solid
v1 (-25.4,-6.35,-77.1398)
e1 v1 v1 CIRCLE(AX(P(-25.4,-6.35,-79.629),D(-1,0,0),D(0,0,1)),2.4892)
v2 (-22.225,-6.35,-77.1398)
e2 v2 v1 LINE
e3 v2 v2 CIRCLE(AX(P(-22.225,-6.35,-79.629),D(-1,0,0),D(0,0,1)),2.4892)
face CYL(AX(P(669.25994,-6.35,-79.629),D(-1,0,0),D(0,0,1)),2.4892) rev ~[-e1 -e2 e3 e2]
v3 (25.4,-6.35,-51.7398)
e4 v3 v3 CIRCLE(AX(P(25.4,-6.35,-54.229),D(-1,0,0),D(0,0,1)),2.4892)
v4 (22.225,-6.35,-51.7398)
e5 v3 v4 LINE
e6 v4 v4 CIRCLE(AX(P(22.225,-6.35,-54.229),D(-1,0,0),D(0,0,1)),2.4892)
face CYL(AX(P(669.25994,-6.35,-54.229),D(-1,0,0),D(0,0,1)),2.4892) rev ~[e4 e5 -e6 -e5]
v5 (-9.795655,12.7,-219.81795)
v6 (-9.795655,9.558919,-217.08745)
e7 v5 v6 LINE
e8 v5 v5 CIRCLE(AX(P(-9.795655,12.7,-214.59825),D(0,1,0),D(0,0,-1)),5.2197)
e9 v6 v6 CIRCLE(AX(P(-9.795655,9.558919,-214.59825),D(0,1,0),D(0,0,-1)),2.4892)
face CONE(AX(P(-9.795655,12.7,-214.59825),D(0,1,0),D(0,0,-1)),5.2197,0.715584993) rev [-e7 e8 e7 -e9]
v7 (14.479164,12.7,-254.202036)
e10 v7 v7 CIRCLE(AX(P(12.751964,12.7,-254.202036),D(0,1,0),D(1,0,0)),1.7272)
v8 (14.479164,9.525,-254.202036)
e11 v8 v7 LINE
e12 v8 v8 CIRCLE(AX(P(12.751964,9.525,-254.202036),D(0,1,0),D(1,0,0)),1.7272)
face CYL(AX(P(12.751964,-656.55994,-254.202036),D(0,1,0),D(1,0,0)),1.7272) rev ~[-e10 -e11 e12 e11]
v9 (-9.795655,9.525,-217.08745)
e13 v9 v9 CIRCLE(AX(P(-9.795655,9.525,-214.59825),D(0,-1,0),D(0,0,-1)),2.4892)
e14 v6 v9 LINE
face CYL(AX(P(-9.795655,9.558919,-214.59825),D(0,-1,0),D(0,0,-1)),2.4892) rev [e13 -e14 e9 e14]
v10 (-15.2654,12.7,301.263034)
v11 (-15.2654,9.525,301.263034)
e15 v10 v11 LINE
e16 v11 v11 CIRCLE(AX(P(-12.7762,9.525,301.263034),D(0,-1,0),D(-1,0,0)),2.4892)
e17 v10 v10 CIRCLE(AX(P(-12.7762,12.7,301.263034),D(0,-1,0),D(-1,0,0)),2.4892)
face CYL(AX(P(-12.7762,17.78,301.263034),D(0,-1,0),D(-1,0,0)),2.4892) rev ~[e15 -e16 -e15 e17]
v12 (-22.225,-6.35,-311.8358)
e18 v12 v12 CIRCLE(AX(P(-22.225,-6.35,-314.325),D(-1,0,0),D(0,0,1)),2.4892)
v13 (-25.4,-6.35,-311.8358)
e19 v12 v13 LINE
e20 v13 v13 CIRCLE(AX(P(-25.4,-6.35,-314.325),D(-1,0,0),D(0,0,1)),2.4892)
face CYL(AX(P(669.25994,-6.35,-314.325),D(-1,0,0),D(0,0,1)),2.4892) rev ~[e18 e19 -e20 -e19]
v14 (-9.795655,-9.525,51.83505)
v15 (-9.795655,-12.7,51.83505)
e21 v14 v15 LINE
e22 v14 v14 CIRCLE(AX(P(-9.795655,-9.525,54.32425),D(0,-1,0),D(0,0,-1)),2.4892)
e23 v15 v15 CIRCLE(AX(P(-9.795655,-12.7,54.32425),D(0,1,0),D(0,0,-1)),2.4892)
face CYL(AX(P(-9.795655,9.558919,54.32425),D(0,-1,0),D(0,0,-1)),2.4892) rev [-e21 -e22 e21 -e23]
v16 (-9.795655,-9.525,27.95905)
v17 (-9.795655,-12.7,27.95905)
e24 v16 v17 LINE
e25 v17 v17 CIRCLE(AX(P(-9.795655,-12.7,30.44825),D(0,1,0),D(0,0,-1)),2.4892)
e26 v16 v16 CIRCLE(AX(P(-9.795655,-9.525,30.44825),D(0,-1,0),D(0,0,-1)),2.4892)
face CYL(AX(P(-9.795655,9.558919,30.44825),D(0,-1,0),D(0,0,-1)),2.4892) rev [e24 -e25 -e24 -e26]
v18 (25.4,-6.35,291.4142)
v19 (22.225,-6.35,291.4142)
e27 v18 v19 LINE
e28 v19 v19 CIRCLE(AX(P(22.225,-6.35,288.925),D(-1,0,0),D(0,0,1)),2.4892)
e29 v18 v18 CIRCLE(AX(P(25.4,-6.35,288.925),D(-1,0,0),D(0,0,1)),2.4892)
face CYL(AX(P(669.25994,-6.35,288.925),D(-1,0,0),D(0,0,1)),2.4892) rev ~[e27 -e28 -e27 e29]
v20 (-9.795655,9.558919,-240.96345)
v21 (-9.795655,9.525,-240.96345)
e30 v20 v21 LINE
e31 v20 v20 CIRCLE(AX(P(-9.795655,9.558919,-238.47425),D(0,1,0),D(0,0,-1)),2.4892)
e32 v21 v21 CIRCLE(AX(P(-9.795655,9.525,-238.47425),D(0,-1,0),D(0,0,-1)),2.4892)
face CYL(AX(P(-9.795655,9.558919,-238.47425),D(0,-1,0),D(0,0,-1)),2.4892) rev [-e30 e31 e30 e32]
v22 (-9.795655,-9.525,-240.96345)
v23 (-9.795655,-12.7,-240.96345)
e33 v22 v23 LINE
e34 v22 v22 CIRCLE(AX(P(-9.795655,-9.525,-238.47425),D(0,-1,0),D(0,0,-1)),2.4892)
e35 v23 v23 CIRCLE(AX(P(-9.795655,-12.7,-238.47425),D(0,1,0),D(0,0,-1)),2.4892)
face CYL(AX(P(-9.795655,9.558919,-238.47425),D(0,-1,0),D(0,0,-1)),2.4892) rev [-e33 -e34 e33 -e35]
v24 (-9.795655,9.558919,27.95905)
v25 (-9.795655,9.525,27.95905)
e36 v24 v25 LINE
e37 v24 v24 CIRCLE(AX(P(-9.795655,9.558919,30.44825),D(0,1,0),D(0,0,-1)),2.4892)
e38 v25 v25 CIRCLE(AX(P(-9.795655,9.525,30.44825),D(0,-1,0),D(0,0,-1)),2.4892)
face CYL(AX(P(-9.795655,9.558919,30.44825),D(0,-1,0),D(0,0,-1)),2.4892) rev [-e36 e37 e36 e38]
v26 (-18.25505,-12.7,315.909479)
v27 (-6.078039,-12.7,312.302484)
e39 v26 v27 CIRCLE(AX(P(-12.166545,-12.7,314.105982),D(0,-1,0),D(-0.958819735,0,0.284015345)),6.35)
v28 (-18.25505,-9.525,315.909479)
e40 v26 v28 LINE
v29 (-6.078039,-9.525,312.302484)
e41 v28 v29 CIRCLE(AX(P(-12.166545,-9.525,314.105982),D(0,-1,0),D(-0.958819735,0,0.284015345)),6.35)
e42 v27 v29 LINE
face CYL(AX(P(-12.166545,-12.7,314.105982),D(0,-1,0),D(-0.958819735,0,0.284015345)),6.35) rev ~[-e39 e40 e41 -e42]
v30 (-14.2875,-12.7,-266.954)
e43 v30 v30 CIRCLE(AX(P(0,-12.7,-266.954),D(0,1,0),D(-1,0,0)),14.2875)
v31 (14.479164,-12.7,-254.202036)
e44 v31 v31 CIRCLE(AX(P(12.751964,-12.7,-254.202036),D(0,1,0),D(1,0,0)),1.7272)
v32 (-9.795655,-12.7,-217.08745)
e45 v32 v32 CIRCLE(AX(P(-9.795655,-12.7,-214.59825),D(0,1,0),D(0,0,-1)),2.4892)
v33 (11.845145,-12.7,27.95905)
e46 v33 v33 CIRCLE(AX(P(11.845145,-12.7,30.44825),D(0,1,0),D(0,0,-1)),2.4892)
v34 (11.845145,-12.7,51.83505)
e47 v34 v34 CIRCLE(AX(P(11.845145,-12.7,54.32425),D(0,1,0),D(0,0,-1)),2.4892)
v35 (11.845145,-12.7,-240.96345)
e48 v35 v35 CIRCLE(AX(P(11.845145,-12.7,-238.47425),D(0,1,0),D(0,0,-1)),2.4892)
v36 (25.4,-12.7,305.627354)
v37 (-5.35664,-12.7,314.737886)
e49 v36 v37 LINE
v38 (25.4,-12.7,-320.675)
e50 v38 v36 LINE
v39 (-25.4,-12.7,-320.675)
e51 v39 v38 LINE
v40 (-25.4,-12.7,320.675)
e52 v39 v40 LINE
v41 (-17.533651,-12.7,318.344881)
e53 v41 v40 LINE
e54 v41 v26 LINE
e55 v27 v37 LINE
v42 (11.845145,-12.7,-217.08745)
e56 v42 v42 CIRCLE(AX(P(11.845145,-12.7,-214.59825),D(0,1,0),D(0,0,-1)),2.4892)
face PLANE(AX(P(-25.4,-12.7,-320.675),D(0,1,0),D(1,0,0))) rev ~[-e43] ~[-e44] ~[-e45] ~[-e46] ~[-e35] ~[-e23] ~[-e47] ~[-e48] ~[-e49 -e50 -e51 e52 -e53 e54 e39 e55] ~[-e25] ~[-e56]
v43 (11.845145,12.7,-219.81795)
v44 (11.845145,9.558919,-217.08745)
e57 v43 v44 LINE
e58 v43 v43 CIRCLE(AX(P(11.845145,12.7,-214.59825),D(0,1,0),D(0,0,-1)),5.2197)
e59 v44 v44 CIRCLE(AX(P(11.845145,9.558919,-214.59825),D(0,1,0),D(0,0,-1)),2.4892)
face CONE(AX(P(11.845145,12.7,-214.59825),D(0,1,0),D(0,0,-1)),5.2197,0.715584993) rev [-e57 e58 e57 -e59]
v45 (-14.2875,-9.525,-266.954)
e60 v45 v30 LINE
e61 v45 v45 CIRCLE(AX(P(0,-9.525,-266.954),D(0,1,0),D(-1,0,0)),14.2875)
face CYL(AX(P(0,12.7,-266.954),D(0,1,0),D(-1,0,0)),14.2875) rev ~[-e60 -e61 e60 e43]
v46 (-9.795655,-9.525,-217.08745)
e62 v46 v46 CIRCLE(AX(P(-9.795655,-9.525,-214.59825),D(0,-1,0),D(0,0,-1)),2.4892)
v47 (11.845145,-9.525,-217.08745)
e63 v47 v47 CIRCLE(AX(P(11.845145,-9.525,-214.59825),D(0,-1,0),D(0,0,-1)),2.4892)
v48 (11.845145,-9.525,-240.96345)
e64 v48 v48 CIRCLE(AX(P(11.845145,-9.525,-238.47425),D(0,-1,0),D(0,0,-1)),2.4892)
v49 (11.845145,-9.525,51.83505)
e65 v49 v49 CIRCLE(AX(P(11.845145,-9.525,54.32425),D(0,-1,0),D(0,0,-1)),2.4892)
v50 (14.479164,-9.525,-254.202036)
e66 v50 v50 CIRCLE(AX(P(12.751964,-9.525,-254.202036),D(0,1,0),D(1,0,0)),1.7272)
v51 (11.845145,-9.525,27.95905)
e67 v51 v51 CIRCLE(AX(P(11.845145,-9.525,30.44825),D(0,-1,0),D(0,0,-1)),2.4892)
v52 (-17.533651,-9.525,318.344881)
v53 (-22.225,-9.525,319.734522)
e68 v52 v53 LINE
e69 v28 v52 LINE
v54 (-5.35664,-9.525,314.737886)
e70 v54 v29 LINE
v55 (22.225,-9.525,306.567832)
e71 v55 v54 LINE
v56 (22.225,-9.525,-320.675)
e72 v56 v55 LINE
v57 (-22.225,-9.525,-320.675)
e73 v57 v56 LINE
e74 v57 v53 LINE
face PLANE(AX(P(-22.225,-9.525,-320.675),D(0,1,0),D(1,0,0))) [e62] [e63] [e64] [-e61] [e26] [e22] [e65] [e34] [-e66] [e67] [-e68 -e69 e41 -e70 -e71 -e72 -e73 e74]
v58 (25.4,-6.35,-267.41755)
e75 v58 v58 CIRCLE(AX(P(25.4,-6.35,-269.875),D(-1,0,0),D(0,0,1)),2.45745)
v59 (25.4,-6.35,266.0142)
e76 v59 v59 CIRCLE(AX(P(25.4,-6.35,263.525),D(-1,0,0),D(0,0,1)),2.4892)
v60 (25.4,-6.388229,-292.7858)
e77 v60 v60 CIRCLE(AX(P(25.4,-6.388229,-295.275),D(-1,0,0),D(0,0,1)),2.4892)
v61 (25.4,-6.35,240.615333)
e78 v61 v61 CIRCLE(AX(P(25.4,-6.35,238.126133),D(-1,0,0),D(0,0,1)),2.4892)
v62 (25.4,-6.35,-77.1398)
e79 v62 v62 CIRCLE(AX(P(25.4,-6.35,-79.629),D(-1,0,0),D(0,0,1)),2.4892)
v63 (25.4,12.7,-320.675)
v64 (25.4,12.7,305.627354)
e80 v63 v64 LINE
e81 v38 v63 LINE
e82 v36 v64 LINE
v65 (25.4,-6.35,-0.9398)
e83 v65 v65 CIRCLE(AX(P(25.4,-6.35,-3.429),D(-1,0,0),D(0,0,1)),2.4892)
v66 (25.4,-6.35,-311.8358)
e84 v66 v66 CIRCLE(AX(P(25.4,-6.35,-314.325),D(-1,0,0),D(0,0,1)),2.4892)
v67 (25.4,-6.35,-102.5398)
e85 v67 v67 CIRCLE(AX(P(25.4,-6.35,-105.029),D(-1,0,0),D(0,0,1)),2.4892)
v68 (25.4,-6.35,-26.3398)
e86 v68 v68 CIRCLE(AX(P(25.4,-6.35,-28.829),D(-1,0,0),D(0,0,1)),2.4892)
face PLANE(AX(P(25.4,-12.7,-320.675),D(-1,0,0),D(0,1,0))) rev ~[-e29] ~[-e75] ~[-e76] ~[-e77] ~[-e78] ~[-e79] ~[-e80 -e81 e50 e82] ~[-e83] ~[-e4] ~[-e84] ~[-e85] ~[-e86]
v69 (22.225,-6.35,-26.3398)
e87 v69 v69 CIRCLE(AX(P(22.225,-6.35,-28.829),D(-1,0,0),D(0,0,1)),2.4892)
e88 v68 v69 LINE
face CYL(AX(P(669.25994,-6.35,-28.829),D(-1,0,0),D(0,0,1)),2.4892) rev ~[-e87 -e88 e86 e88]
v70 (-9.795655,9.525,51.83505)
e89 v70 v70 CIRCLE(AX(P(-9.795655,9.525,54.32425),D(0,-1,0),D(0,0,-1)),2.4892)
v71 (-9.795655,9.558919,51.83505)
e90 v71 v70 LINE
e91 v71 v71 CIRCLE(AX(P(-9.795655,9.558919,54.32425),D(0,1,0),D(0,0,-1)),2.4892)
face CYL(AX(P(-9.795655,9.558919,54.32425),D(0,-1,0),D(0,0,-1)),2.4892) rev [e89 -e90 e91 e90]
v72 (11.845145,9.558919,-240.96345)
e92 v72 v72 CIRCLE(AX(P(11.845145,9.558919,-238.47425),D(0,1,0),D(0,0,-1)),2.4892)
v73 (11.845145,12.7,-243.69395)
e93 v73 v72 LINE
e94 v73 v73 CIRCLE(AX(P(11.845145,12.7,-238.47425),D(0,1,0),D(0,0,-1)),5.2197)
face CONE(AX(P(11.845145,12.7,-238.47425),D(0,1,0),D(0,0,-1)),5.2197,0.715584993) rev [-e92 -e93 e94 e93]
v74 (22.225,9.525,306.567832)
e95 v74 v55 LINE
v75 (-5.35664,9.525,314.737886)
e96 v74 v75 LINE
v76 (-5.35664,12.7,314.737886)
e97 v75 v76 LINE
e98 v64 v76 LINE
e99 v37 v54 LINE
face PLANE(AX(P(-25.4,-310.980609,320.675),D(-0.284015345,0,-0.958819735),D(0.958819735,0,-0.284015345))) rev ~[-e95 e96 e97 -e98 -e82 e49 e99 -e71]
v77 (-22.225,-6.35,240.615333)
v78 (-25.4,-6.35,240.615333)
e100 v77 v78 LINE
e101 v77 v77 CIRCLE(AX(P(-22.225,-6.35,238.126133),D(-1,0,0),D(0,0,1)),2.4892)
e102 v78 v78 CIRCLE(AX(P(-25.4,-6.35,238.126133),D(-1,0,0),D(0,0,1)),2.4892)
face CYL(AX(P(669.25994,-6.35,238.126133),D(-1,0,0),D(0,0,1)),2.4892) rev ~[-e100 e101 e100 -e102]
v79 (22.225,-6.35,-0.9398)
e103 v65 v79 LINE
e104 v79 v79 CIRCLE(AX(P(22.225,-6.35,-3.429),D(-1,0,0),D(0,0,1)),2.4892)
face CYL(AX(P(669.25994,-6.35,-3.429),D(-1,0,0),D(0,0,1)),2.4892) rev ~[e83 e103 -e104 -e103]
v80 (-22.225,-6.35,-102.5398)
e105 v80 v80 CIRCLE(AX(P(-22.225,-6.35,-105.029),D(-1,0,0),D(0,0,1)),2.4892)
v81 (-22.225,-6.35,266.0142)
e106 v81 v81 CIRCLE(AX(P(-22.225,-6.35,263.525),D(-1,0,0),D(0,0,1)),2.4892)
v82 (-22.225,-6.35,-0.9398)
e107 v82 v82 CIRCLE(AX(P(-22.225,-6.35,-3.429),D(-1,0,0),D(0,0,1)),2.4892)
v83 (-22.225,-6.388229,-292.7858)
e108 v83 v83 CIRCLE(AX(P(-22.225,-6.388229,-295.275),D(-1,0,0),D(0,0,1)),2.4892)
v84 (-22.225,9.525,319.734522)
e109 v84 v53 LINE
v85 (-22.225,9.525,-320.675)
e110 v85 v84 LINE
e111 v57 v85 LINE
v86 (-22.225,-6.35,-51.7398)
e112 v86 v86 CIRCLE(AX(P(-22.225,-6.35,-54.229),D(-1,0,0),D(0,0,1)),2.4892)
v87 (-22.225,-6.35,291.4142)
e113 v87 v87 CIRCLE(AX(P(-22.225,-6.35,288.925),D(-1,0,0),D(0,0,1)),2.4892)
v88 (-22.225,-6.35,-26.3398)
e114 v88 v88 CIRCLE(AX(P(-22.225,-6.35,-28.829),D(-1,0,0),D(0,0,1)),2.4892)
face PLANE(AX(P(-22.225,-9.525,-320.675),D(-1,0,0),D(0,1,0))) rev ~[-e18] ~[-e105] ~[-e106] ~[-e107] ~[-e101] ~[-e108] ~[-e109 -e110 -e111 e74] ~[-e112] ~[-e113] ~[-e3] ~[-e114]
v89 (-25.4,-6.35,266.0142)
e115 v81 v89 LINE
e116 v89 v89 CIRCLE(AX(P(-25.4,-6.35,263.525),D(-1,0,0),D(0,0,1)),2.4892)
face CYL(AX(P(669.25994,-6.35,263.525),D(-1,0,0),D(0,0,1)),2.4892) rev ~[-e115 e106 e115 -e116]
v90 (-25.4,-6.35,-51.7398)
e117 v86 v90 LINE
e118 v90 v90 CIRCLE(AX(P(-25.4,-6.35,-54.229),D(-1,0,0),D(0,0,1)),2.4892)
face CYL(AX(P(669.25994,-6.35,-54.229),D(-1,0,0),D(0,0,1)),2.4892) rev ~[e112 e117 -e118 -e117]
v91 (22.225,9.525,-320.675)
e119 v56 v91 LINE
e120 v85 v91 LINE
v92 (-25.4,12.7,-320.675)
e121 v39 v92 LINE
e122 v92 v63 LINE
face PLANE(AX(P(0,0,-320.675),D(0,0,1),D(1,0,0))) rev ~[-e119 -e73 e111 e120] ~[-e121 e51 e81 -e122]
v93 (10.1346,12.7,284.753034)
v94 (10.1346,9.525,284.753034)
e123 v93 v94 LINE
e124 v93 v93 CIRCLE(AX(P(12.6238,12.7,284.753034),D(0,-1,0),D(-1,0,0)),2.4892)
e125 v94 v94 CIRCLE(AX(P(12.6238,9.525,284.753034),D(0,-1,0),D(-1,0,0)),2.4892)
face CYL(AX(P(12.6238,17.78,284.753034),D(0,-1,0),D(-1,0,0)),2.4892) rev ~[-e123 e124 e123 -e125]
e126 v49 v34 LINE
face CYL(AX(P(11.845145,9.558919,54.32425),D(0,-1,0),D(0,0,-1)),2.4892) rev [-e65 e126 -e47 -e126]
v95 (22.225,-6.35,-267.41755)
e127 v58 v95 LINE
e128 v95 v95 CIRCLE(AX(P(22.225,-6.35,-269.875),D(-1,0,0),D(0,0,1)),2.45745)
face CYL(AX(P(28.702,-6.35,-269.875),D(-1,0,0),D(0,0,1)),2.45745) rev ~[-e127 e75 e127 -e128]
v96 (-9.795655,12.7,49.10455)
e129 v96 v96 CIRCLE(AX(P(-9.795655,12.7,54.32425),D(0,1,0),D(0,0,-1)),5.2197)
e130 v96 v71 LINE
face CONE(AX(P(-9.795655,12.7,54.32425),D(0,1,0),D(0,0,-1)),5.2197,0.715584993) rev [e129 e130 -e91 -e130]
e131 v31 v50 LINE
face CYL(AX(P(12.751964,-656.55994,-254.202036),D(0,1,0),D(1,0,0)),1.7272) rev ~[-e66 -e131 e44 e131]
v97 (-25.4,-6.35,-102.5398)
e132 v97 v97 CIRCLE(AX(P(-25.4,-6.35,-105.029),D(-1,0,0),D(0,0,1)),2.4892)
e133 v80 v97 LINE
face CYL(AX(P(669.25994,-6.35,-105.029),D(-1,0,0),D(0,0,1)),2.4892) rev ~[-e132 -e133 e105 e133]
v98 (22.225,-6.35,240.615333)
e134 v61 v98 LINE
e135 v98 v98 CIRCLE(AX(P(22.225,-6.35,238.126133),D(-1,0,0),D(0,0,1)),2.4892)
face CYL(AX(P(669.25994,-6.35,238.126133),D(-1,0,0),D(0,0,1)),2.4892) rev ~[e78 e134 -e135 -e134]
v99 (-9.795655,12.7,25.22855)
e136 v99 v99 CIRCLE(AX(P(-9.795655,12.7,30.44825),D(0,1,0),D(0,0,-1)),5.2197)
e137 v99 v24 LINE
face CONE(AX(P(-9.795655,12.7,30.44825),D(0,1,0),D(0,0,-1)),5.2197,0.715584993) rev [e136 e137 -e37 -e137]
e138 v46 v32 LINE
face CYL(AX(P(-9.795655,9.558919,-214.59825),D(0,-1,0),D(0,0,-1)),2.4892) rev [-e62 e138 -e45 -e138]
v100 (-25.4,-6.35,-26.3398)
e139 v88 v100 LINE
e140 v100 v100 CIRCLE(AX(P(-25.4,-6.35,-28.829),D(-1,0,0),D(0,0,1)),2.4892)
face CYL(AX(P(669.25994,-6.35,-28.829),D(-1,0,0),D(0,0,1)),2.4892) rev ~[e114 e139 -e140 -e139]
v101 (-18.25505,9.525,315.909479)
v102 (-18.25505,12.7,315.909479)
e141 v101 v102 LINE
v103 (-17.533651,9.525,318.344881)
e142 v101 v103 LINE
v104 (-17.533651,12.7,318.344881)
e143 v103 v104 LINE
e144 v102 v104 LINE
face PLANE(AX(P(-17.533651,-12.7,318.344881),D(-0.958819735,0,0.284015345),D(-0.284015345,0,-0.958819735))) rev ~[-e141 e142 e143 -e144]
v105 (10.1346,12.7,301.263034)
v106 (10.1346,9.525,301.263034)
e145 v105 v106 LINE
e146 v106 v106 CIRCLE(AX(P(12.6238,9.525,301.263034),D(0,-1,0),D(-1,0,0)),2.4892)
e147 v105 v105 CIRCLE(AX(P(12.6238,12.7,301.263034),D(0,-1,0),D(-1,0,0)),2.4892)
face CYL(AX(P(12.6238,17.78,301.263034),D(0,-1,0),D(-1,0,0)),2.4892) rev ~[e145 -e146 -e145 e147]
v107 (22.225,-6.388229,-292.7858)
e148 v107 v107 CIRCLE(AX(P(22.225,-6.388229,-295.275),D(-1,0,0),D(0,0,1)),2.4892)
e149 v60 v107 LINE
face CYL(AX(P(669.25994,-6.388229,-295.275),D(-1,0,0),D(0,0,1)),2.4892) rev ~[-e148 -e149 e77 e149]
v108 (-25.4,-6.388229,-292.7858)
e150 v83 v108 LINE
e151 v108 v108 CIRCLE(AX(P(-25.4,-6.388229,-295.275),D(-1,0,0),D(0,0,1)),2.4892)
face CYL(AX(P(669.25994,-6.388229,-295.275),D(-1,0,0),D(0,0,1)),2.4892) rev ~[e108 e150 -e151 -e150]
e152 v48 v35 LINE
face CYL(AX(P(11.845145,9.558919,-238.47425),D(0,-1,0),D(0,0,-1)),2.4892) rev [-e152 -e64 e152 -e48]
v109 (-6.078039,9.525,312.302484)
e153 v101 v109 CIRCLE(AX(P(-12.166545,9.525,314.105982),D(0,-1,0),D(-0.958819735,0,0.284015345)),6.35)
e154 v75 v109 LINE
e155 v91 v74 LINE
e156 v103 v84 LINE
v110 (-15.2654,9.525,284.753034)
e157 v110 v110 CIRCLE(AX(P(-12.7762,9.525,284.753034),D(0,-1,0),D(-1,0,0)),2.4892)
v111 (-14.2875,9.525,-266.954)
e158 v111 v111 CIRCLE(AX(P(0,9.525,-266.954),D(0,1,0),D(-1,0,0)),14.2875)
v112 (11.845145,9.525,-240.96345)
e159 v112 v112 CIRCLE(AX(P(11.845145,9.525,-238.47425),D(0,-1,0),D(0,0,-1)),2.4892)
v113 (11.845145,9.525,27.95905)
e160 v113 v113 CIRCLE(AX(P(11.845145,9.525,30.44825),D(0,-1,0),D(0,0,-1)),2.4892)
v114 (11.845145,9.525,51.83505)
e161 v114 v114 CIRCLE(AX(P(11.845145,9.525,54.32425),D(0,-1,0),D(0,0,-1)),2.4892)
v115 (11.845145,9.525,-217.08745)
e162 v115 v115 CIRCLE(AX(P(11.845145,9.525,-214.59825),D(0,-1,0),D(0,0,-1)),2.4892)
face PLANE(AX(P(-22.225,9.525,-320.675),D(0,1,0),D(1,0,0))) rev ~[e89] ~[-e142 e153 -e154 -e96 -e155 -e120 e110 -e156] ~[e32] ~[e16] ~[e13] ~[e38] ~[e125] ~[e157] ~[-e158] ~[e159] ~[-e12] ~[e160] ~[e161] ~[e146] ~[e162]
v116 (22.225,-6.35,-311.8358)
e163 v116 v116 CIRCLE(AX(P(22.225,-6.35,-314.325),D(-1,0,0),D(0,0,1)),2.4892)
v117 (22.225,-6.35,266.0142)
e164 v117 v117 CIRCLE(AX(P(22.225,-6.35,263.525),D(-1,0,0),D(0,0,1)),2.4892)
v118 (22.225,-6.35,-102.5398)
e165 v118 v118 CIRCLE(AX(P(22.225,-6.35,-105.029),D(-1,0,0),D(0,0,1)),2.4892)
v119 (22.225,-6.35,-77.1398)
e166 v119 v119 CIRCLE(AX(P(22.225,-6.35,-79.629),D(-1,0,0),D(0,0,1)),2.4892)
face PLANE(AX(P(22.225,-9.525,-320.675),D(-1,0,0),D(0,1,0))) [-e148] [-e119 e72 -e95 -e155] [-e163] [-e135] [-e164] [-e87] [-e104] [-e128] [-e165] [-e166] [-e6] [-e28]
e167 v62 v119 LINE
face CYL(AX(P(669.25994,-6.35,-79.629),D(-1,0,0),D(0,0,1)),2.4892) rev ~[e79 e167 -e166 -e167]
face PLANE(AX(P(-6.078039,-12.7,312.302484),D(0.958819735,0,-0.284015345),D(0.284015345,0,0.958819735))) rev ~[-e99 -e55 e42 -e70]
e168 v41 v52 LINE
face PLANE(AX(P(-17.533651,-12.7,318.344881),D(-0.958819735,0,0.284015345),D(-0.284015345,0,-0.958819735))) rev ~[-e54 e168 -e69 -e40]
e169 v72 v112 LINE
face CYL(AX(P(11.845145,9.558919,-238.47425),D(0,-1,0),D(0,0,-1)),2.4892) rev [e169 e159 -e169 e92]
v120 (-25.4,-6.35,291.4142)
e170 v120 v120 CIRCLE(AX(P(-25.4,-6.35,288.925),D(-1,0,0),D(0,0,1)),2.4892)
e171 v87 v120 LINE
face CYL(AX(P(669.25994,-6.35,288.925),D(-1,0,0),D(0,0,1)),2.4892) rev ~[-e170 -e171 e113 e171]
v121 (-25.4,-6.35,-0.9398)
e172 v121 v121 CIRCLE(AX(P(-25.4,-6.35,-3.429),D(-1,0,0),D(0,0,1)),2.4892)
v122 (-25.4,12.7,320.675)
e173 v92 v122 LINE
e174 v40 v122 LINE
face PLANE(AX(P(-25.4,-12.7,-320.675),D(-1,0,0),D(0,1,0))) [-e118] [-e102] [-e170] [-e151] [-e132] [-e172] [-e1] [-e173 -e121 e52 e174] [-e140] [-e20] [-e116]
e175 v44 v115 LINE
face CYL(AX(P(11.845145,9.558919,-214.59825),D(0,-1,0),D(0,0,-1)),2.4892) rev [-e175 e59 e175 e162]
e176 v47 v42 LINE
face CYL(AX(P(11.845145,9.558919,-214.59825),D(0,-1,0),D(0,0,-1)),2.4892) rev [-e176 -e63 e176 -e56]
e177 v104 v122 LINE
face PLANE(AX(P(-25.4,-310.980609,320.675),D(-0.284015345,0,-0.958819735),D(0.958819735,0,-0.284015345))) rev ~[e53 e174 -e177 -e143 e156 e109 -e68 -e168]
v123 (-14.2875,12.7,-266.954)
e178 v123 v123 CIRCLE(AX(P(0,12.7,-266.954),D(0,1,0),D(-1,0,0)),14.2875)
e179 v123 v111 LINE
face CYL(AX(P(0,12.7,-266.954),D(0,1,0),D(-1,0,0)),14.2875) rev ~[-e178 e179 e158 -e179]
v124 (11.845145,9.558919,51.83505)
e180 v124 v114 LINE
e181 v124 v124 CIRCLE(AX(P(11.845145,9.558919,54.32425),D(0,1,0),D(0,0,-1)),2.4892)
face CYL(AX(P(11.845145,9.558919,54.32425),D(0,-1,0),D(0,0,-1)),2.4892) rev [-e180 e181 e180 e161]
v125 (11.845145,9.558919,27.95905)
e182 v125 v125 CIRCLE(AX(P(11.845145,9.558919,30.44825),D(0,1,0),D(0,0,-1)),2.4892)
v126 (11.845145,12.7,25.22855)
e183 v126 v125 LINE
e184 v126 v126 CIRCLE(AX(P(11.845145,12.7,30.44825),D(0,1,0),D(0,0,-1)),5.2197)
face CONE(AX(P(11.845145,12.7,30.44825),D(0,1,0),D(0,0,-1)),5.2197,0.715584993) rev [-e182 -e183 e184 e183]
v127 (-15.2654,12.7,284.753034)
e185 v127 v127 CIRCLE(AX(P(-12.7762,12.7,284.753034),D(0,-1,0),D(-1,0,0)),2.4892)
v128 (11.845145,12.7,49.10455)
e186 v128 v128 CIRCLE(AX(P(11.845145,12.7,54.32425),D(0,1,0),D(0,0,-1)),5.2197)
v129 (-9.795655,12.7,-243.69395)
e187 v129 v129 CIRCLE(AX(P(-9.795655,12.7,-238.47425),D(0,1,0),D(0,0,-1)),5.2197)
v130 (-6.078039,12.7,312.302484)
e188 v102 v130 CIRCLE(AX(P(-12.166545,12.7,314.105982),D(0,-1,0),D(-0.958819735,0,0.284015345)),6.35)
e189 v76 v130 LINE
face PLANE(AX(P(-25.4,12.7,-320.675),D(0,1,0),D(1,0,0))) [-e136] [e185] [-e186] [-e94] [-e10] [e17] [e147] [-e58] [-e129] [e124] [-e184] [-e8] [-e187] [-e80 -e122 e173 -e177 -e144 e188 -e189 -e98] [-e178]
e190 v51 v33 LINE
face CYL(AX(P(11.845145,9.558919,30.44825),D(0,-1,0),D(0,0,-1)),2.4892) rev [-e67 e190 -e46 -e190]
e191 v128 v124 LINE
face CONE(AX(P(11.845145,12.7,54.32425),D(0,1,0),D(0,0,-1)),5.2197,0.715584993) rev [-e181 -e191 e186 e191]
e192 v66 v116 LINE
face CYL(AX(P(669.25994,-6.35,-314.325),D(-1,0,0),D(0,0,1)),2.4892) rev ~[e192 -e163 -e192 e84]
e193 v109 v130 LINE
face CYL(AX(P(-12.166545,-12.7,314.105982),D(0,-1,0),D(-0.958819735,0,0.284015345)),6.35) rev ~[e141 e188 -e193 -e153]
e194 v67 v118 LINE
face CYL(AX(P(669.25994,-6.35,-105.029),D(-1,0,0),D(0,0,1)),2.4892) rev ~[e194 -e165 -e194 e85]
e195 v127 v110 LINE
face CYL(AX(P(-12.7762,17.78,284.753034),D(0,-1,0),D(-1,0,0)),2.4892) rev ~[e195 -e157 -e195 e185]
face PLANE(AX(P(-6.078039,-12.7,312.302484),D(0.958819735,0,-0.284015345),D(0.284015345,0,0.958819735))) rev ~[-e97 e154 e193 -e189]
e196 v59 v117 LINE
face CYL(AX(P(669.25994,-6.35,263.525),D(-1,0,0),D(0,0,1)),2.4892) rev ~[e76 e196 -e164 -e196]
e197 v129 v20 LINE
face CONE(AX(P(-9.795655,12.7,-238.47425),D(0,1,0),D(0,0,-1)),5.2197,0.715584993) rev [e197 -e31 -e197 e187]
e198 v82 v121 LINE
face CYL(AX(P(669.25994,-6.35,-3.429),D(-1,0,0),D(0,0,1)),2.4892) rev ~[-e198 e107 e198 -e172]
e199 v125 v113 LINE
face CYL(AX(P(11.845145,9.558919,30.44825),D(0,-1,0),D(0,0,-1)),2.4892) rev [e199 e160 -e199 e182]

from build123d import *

# Parameters (mm, degrees)
BOSS_EXTRUDE1_DEPTH              = 320.675
BOSS_EXTRUDE1_DEPTH_BACK         = 320.675
SKETCH3_W                        = 50.8
SKETCH3_H                        = 25.4
SKETCH3_W_2                      = 44.45
SKETCH3_H_2                      = 19.05
CUT_EXTRUDE1_DEPTH               = 323.680609311
CUT_EXTRUDE1_DEPTH_BACK          = 323.680609311
SKETCH8_R                        = 14.2875
CUT_EXTRUDE2_DEPTH               = 323.680609311
F_10_CLEARANCE_HOLE1_D           = 4.9784
F_10_CLEARANCE_HOLE1_DEPTH       = 5.08
F_10_CLEARANCE_HOLE1_TIP         = 1.495662253
F_10_CLEARANCE_HOLE2_D           = 4.9784
F_10_CLEARANCE_HOLE3_D           = 4.9784
TAP_DRILL_FOR_8_32_TAP1_D        = 3.4544
F_10_CLEARANCE_HOLE4_AT_2_COUNT  = 2
F_10_CLEARANCE_HOLE4_AT_2_PITCH  = 21.6408
F_10_CLEARANCE_HOLE4_AT_3_COUNT  = 2
F_10_CLEARANCE_HOLE4_AT_3_PITCH  = 32.224022105
F_10_CLEARANCE_HOLE4_AT_4_COUNT  = 2
F_10_CLEARANCE_HOLE4_AT_4_PITCH  = 23.876
F_10_CLEARANCE_HOLE4_AT_5_COUNT  = 2
F_10_CLEARANCE_HOLE4_AT_5_PITCH  = 245.0465
F_10_CLEARANCE_HOLE4_AT_6_COUNT  = 2
F_10_CLEARANCE_HOLE4_AT_6_PITCH  = 246.000226396
F_10_CLEARANCE_HOLE4_AT_7_COUNT  = 2
F_10_CLEARANCE_HOLE4_AT_7_PITCH  = 268.9225
F_10_CLEARANCE_HOLE4_AT_8_COUNT  = 2
F_10_CLEARANCE_HOLE4_AT_8_PITCH  = 269.79183685
F_10_0_1935_DIAMETER_HOLE1_D     = 4.9149
F_10_0_1935_DIAMETER_HOLE1_DEPTH = 3.302
F_10_0_1935_DIAMETER_HOLE1_TIP   = 1.476584928
CUT_EXTRUDE3_DEPTH               = 323.680609311


with BuildPart() as part:
    # Sketch3 → Boss-Extrude1 (new, two sides: drawn at the far end of the back side and taken through both)
    with BuildSketch(Plane.XY.offset(-BOSS_EXTRUDE1_DEPTH_BACK)):
        Rectangle(SKETCH3_W, SKETCH3_H)
        Rectangle(SKETCH3_W_2, SKETCH3_H_2, mode=Mode.SUBTRACT)
    extrude(amount=BOSS_EXTRUDE1_DEPTH + BOSS_EXTRUDE1_DEPTH_BACK)

    # Sketch4 → Cut-Extrude1 (cut, two sides: drawn at the far end of the back side and taken through both)
    with BuildSketch(Plane(origin=(0, 12.7, 0), x_dir=(1, 0, 0), z_dir=(0, 1, 0)).offset(-CUT_EXTRUDE1_DEPTH_BACK)):
        Polygon((1322.117470931, -320.675), (25.4, -320.675), (-25.4, -320.675), (25.4, -305.627354456), (1268.718301677, 62.660305034), (3837.350959621, 420.474595165), (3890.750128875, 37.139290131), align=None)
    extrude(amount=CUT_EXTRUDE1_DEPTH + CUT_EXTRUDE1_DEPTH_BACK, mode=Mode.SUBTRACT)

    # Sketch8 → Cut-Extrude2 (cut, through all)
    with BuildSketch(Plane(origin=(0, 12.7, 0), x_dir=(1, 0, 0), z_dir=(0, 1, 0))):
        with Locations(Location((0, 266.954, 0), (0, 0, 180))):
            Circle(SKETCH8_R)
    extrude(amount=-CUT_EXTRUDE2_DEPTH, mode=Mode.SUBTRACT)

    # #10 Clearance Hole1
    with Locations(Plane(origin=(0, 12.7, 0), x_dir=(1, 0, 0), z_dir=(0, 1, 0))):
        with Locations((-12.7762, -284.753033923), (12.6238, -284.753033923), (12.6238, -301.263033923), (-12.7762, -301.263033923)):
            Hole(F_10_CLEARANCE_HOLE1_D / 2, depth=F_10_CLEARANCE_HOLE1_DEPTH)
            with Locations((0, 0, -(F_10_CLEARANCE_HOLE1_DEPTH + F_10_CLEARANCE_HOLE1_TIP / 2))):  # 118° drill point
                Cone(0, F_10_CLEARANCE_HOLE1_D / 2, F_10_CLEARANCE_HOLE1_TIP, mode=Mode.SUBTRACT)

    # #10 Clearance Hole2 (through all)
    with Locations(Plane(origin=(25.4, 0, 0), x_dir=(0, 0, -1), z_dir=(1, 0, 0))):
        with Locations((3.429, -6.35), (28.829, -6.35), (54.229, -6.35), (79.629, -6.35), (105.029, -6.35), (-288.925, -6.35), (-263.525, -6.35), (-238.126133061, -6.35)):
            Hole(F_10_CLEARANCE_HOLE2_D / 2)

    # #10 Clearance Hole3 (through all)
    with Locations(Plane(origin=(25.4, 0, 0), x_dir=(0, 0, -1), z_dir=(1, 0, 0))):
        with Locations((295.275, -6.388229415), (314.325, -6.35)):
            Hole(F_10_CLEARANCE_HOLE3_D / 2)

    # Tap Drill for #8-32 Tap1 (through all)
    with Locations(Plane(origin=(0, -12.7, 0), x_dir=(-1, 0, 0), z_dir=(0, -1, 0))):
        with Locations((-12.751963692, 254.202036308)):
            Hole(TAP_DRILL_FOR_8_32_TAP1_D / 2)

    # Sketch21 → #10 Clearance Hole4 (revolve, cut)
    with BuildSketch(Plane(origin=(11.845144988, -12.7, 30.44825), x_dir=(0, 0, -1), z_dir=(1, 0, 0))):
        Polygon((0, 0), (0, 25.4), (5.2197, 25.4), (2.4892, 22.258919064), (2.4892, 0), align=None)
    f_10_clearance_hole4 = revolve(axis=Axis((11.845144988, -19.05, 30.44825), (0, 1, 0)), mode=Mode.SUBTRACT)

    # #10 Clearance Hole4 at 2: #10 Clearance Hole4 ×2
    with Locations(*[(-i * F_10_CLEARANCE_HOLE4_AT_2_PITCH, 0, 0) for i in range(1, F_10_CLEARANCE_HOLE4_AT_2_COUNT)]):
        add(f_10_clearance_hole4, mode=Mode.SUBTRACT)

    # #10 Clearance Hole4 at 3: #10 Clearance Hole4 ×2
    with Locations(*[Vector(-0.6715735214342001, 0, 0.7409379227090944) * (i * F_10_CLEARANCE_HOLE4_AT_3_PITCH) for i in range(1, F_10_CLEARANCE_HOLE4_AT_3_COUNT)]):
        add(f_10_clearance_hole4, mode=Mode.SUBTRACT)

    # #10 Clearance Hole4 at 4: #10 Clearance Hole4 ×2
    with Locations(*[(0, 0, i * F_10_CLEARANCE_HOLE4_AT_4_PITCH) for i in range(1, F_10_CLEARANCE_HOLE4_AT_4_COUNT)]):
        add(f_10_clearance_hole4, mode=Mode.SUBTRACT)

    # #10 Clearance Hole4 at 5: #10 Clearance Hole4 ×2
    with Locations(*[(0, 0, -i * F_10_CLEARANCE_HOLE4_AT_5_PITCH) for i in range(1, F_10_CLEARANCE_HOLE4_AT_5_COUNT)]):
        add(f_10_clearance_hole4, mode=Mode.SUBTRACT)

    # #10 Clearance Hole4 at 6: #10 Clearance Hole4 ×2
    with Locations(*[Vector(-0.08797065074713521, 0, -0.9961230669988149) * (i * F_10_CLEARANCE_HOLE4_AT_6_PITCH) for i in range(1, F_10_CLEARANCE_HOLE4_AT_6_COUNT)]):
        add(f_10_clearance_hole4, mode=Mode.SUBTRACT)

    # #10 Clearance Hole4 at 7: #10 Clearance Hole4 ×2
    with Locations(*[(0, 0, -i * F_10_CLEARANCE_HOLE4_AT_7_PITCH) for i in range(1, F_10_CLEARANCE_HOLE4_AT_7_COUNT)]):
        add(f_10_clearance_hole4, mode=Mode.SUBTRACT)

    # #10 Clearance Hole4 at 8: #10 Clearance Hole4 ×2
    with Locations(*[Vector(-0.08021295326304817, 0, -0.9967777496156403) * (i * F_10_CLEARANCE_HOLE4_AT_8_PITCH) for i in range(1, F_10_CLEARANCE_HOLE4_AT_8_COUNT)]):
        add(f_10_clearance_hole4, mode=Mode.SUBTRACT)

    # #10 (0.1935) Diameter Hole1
    with Locations(Plane(origin=(25.4, 0, 0), x_dir=(0, 0, -1), z_dir=(1, 0, 0))):
        with Locations((269.875, -6.35)):
            Hole(F_10_0_1935_DIAMETER_HOLE1_D / 2, depth=F_10_0_1935_DIAMETER_HOLE1_DEPTH)
            with Locations((0, 0, -(F_10_0_1935_DIAMETER_HOLE1_DEPTH + F_10_0_1935_DIAMETER_HOLE1_TIP / 2))):  # 118° drill point
                Cone(0, F_10_0_1935_DIAMETER_HOLE1_D / 2, F_10_0_1935_DIAMETER_HOLE1_TIP, mode=Mode.SUBTRACT)

    # Sketch24 → Cut-Extrude3 (cut, through all)
    with BuildSketch(Plane.XZ.offset(12.7)):
        with BuildLine():
            Line((-5.356640498, 314.737886431), (-17.533651131, 318.344881309))
            Line((-17.533651131, 318.344881309), (-18.255050107, 315.909479182))
            ThreePointArc((-18.255050107, 315.909479182), (-13.970042229, 308.017476427), (-6.078039474, 312.302484305))
            Line((-6.078039474, 312.302484305), (-5.356640498, 314.737886431))
        make_face()
    extrude(amount=-CUT_EXTRUDE3_DEPTH, mode=Mode.SUBTRACT)


solid = part.part
